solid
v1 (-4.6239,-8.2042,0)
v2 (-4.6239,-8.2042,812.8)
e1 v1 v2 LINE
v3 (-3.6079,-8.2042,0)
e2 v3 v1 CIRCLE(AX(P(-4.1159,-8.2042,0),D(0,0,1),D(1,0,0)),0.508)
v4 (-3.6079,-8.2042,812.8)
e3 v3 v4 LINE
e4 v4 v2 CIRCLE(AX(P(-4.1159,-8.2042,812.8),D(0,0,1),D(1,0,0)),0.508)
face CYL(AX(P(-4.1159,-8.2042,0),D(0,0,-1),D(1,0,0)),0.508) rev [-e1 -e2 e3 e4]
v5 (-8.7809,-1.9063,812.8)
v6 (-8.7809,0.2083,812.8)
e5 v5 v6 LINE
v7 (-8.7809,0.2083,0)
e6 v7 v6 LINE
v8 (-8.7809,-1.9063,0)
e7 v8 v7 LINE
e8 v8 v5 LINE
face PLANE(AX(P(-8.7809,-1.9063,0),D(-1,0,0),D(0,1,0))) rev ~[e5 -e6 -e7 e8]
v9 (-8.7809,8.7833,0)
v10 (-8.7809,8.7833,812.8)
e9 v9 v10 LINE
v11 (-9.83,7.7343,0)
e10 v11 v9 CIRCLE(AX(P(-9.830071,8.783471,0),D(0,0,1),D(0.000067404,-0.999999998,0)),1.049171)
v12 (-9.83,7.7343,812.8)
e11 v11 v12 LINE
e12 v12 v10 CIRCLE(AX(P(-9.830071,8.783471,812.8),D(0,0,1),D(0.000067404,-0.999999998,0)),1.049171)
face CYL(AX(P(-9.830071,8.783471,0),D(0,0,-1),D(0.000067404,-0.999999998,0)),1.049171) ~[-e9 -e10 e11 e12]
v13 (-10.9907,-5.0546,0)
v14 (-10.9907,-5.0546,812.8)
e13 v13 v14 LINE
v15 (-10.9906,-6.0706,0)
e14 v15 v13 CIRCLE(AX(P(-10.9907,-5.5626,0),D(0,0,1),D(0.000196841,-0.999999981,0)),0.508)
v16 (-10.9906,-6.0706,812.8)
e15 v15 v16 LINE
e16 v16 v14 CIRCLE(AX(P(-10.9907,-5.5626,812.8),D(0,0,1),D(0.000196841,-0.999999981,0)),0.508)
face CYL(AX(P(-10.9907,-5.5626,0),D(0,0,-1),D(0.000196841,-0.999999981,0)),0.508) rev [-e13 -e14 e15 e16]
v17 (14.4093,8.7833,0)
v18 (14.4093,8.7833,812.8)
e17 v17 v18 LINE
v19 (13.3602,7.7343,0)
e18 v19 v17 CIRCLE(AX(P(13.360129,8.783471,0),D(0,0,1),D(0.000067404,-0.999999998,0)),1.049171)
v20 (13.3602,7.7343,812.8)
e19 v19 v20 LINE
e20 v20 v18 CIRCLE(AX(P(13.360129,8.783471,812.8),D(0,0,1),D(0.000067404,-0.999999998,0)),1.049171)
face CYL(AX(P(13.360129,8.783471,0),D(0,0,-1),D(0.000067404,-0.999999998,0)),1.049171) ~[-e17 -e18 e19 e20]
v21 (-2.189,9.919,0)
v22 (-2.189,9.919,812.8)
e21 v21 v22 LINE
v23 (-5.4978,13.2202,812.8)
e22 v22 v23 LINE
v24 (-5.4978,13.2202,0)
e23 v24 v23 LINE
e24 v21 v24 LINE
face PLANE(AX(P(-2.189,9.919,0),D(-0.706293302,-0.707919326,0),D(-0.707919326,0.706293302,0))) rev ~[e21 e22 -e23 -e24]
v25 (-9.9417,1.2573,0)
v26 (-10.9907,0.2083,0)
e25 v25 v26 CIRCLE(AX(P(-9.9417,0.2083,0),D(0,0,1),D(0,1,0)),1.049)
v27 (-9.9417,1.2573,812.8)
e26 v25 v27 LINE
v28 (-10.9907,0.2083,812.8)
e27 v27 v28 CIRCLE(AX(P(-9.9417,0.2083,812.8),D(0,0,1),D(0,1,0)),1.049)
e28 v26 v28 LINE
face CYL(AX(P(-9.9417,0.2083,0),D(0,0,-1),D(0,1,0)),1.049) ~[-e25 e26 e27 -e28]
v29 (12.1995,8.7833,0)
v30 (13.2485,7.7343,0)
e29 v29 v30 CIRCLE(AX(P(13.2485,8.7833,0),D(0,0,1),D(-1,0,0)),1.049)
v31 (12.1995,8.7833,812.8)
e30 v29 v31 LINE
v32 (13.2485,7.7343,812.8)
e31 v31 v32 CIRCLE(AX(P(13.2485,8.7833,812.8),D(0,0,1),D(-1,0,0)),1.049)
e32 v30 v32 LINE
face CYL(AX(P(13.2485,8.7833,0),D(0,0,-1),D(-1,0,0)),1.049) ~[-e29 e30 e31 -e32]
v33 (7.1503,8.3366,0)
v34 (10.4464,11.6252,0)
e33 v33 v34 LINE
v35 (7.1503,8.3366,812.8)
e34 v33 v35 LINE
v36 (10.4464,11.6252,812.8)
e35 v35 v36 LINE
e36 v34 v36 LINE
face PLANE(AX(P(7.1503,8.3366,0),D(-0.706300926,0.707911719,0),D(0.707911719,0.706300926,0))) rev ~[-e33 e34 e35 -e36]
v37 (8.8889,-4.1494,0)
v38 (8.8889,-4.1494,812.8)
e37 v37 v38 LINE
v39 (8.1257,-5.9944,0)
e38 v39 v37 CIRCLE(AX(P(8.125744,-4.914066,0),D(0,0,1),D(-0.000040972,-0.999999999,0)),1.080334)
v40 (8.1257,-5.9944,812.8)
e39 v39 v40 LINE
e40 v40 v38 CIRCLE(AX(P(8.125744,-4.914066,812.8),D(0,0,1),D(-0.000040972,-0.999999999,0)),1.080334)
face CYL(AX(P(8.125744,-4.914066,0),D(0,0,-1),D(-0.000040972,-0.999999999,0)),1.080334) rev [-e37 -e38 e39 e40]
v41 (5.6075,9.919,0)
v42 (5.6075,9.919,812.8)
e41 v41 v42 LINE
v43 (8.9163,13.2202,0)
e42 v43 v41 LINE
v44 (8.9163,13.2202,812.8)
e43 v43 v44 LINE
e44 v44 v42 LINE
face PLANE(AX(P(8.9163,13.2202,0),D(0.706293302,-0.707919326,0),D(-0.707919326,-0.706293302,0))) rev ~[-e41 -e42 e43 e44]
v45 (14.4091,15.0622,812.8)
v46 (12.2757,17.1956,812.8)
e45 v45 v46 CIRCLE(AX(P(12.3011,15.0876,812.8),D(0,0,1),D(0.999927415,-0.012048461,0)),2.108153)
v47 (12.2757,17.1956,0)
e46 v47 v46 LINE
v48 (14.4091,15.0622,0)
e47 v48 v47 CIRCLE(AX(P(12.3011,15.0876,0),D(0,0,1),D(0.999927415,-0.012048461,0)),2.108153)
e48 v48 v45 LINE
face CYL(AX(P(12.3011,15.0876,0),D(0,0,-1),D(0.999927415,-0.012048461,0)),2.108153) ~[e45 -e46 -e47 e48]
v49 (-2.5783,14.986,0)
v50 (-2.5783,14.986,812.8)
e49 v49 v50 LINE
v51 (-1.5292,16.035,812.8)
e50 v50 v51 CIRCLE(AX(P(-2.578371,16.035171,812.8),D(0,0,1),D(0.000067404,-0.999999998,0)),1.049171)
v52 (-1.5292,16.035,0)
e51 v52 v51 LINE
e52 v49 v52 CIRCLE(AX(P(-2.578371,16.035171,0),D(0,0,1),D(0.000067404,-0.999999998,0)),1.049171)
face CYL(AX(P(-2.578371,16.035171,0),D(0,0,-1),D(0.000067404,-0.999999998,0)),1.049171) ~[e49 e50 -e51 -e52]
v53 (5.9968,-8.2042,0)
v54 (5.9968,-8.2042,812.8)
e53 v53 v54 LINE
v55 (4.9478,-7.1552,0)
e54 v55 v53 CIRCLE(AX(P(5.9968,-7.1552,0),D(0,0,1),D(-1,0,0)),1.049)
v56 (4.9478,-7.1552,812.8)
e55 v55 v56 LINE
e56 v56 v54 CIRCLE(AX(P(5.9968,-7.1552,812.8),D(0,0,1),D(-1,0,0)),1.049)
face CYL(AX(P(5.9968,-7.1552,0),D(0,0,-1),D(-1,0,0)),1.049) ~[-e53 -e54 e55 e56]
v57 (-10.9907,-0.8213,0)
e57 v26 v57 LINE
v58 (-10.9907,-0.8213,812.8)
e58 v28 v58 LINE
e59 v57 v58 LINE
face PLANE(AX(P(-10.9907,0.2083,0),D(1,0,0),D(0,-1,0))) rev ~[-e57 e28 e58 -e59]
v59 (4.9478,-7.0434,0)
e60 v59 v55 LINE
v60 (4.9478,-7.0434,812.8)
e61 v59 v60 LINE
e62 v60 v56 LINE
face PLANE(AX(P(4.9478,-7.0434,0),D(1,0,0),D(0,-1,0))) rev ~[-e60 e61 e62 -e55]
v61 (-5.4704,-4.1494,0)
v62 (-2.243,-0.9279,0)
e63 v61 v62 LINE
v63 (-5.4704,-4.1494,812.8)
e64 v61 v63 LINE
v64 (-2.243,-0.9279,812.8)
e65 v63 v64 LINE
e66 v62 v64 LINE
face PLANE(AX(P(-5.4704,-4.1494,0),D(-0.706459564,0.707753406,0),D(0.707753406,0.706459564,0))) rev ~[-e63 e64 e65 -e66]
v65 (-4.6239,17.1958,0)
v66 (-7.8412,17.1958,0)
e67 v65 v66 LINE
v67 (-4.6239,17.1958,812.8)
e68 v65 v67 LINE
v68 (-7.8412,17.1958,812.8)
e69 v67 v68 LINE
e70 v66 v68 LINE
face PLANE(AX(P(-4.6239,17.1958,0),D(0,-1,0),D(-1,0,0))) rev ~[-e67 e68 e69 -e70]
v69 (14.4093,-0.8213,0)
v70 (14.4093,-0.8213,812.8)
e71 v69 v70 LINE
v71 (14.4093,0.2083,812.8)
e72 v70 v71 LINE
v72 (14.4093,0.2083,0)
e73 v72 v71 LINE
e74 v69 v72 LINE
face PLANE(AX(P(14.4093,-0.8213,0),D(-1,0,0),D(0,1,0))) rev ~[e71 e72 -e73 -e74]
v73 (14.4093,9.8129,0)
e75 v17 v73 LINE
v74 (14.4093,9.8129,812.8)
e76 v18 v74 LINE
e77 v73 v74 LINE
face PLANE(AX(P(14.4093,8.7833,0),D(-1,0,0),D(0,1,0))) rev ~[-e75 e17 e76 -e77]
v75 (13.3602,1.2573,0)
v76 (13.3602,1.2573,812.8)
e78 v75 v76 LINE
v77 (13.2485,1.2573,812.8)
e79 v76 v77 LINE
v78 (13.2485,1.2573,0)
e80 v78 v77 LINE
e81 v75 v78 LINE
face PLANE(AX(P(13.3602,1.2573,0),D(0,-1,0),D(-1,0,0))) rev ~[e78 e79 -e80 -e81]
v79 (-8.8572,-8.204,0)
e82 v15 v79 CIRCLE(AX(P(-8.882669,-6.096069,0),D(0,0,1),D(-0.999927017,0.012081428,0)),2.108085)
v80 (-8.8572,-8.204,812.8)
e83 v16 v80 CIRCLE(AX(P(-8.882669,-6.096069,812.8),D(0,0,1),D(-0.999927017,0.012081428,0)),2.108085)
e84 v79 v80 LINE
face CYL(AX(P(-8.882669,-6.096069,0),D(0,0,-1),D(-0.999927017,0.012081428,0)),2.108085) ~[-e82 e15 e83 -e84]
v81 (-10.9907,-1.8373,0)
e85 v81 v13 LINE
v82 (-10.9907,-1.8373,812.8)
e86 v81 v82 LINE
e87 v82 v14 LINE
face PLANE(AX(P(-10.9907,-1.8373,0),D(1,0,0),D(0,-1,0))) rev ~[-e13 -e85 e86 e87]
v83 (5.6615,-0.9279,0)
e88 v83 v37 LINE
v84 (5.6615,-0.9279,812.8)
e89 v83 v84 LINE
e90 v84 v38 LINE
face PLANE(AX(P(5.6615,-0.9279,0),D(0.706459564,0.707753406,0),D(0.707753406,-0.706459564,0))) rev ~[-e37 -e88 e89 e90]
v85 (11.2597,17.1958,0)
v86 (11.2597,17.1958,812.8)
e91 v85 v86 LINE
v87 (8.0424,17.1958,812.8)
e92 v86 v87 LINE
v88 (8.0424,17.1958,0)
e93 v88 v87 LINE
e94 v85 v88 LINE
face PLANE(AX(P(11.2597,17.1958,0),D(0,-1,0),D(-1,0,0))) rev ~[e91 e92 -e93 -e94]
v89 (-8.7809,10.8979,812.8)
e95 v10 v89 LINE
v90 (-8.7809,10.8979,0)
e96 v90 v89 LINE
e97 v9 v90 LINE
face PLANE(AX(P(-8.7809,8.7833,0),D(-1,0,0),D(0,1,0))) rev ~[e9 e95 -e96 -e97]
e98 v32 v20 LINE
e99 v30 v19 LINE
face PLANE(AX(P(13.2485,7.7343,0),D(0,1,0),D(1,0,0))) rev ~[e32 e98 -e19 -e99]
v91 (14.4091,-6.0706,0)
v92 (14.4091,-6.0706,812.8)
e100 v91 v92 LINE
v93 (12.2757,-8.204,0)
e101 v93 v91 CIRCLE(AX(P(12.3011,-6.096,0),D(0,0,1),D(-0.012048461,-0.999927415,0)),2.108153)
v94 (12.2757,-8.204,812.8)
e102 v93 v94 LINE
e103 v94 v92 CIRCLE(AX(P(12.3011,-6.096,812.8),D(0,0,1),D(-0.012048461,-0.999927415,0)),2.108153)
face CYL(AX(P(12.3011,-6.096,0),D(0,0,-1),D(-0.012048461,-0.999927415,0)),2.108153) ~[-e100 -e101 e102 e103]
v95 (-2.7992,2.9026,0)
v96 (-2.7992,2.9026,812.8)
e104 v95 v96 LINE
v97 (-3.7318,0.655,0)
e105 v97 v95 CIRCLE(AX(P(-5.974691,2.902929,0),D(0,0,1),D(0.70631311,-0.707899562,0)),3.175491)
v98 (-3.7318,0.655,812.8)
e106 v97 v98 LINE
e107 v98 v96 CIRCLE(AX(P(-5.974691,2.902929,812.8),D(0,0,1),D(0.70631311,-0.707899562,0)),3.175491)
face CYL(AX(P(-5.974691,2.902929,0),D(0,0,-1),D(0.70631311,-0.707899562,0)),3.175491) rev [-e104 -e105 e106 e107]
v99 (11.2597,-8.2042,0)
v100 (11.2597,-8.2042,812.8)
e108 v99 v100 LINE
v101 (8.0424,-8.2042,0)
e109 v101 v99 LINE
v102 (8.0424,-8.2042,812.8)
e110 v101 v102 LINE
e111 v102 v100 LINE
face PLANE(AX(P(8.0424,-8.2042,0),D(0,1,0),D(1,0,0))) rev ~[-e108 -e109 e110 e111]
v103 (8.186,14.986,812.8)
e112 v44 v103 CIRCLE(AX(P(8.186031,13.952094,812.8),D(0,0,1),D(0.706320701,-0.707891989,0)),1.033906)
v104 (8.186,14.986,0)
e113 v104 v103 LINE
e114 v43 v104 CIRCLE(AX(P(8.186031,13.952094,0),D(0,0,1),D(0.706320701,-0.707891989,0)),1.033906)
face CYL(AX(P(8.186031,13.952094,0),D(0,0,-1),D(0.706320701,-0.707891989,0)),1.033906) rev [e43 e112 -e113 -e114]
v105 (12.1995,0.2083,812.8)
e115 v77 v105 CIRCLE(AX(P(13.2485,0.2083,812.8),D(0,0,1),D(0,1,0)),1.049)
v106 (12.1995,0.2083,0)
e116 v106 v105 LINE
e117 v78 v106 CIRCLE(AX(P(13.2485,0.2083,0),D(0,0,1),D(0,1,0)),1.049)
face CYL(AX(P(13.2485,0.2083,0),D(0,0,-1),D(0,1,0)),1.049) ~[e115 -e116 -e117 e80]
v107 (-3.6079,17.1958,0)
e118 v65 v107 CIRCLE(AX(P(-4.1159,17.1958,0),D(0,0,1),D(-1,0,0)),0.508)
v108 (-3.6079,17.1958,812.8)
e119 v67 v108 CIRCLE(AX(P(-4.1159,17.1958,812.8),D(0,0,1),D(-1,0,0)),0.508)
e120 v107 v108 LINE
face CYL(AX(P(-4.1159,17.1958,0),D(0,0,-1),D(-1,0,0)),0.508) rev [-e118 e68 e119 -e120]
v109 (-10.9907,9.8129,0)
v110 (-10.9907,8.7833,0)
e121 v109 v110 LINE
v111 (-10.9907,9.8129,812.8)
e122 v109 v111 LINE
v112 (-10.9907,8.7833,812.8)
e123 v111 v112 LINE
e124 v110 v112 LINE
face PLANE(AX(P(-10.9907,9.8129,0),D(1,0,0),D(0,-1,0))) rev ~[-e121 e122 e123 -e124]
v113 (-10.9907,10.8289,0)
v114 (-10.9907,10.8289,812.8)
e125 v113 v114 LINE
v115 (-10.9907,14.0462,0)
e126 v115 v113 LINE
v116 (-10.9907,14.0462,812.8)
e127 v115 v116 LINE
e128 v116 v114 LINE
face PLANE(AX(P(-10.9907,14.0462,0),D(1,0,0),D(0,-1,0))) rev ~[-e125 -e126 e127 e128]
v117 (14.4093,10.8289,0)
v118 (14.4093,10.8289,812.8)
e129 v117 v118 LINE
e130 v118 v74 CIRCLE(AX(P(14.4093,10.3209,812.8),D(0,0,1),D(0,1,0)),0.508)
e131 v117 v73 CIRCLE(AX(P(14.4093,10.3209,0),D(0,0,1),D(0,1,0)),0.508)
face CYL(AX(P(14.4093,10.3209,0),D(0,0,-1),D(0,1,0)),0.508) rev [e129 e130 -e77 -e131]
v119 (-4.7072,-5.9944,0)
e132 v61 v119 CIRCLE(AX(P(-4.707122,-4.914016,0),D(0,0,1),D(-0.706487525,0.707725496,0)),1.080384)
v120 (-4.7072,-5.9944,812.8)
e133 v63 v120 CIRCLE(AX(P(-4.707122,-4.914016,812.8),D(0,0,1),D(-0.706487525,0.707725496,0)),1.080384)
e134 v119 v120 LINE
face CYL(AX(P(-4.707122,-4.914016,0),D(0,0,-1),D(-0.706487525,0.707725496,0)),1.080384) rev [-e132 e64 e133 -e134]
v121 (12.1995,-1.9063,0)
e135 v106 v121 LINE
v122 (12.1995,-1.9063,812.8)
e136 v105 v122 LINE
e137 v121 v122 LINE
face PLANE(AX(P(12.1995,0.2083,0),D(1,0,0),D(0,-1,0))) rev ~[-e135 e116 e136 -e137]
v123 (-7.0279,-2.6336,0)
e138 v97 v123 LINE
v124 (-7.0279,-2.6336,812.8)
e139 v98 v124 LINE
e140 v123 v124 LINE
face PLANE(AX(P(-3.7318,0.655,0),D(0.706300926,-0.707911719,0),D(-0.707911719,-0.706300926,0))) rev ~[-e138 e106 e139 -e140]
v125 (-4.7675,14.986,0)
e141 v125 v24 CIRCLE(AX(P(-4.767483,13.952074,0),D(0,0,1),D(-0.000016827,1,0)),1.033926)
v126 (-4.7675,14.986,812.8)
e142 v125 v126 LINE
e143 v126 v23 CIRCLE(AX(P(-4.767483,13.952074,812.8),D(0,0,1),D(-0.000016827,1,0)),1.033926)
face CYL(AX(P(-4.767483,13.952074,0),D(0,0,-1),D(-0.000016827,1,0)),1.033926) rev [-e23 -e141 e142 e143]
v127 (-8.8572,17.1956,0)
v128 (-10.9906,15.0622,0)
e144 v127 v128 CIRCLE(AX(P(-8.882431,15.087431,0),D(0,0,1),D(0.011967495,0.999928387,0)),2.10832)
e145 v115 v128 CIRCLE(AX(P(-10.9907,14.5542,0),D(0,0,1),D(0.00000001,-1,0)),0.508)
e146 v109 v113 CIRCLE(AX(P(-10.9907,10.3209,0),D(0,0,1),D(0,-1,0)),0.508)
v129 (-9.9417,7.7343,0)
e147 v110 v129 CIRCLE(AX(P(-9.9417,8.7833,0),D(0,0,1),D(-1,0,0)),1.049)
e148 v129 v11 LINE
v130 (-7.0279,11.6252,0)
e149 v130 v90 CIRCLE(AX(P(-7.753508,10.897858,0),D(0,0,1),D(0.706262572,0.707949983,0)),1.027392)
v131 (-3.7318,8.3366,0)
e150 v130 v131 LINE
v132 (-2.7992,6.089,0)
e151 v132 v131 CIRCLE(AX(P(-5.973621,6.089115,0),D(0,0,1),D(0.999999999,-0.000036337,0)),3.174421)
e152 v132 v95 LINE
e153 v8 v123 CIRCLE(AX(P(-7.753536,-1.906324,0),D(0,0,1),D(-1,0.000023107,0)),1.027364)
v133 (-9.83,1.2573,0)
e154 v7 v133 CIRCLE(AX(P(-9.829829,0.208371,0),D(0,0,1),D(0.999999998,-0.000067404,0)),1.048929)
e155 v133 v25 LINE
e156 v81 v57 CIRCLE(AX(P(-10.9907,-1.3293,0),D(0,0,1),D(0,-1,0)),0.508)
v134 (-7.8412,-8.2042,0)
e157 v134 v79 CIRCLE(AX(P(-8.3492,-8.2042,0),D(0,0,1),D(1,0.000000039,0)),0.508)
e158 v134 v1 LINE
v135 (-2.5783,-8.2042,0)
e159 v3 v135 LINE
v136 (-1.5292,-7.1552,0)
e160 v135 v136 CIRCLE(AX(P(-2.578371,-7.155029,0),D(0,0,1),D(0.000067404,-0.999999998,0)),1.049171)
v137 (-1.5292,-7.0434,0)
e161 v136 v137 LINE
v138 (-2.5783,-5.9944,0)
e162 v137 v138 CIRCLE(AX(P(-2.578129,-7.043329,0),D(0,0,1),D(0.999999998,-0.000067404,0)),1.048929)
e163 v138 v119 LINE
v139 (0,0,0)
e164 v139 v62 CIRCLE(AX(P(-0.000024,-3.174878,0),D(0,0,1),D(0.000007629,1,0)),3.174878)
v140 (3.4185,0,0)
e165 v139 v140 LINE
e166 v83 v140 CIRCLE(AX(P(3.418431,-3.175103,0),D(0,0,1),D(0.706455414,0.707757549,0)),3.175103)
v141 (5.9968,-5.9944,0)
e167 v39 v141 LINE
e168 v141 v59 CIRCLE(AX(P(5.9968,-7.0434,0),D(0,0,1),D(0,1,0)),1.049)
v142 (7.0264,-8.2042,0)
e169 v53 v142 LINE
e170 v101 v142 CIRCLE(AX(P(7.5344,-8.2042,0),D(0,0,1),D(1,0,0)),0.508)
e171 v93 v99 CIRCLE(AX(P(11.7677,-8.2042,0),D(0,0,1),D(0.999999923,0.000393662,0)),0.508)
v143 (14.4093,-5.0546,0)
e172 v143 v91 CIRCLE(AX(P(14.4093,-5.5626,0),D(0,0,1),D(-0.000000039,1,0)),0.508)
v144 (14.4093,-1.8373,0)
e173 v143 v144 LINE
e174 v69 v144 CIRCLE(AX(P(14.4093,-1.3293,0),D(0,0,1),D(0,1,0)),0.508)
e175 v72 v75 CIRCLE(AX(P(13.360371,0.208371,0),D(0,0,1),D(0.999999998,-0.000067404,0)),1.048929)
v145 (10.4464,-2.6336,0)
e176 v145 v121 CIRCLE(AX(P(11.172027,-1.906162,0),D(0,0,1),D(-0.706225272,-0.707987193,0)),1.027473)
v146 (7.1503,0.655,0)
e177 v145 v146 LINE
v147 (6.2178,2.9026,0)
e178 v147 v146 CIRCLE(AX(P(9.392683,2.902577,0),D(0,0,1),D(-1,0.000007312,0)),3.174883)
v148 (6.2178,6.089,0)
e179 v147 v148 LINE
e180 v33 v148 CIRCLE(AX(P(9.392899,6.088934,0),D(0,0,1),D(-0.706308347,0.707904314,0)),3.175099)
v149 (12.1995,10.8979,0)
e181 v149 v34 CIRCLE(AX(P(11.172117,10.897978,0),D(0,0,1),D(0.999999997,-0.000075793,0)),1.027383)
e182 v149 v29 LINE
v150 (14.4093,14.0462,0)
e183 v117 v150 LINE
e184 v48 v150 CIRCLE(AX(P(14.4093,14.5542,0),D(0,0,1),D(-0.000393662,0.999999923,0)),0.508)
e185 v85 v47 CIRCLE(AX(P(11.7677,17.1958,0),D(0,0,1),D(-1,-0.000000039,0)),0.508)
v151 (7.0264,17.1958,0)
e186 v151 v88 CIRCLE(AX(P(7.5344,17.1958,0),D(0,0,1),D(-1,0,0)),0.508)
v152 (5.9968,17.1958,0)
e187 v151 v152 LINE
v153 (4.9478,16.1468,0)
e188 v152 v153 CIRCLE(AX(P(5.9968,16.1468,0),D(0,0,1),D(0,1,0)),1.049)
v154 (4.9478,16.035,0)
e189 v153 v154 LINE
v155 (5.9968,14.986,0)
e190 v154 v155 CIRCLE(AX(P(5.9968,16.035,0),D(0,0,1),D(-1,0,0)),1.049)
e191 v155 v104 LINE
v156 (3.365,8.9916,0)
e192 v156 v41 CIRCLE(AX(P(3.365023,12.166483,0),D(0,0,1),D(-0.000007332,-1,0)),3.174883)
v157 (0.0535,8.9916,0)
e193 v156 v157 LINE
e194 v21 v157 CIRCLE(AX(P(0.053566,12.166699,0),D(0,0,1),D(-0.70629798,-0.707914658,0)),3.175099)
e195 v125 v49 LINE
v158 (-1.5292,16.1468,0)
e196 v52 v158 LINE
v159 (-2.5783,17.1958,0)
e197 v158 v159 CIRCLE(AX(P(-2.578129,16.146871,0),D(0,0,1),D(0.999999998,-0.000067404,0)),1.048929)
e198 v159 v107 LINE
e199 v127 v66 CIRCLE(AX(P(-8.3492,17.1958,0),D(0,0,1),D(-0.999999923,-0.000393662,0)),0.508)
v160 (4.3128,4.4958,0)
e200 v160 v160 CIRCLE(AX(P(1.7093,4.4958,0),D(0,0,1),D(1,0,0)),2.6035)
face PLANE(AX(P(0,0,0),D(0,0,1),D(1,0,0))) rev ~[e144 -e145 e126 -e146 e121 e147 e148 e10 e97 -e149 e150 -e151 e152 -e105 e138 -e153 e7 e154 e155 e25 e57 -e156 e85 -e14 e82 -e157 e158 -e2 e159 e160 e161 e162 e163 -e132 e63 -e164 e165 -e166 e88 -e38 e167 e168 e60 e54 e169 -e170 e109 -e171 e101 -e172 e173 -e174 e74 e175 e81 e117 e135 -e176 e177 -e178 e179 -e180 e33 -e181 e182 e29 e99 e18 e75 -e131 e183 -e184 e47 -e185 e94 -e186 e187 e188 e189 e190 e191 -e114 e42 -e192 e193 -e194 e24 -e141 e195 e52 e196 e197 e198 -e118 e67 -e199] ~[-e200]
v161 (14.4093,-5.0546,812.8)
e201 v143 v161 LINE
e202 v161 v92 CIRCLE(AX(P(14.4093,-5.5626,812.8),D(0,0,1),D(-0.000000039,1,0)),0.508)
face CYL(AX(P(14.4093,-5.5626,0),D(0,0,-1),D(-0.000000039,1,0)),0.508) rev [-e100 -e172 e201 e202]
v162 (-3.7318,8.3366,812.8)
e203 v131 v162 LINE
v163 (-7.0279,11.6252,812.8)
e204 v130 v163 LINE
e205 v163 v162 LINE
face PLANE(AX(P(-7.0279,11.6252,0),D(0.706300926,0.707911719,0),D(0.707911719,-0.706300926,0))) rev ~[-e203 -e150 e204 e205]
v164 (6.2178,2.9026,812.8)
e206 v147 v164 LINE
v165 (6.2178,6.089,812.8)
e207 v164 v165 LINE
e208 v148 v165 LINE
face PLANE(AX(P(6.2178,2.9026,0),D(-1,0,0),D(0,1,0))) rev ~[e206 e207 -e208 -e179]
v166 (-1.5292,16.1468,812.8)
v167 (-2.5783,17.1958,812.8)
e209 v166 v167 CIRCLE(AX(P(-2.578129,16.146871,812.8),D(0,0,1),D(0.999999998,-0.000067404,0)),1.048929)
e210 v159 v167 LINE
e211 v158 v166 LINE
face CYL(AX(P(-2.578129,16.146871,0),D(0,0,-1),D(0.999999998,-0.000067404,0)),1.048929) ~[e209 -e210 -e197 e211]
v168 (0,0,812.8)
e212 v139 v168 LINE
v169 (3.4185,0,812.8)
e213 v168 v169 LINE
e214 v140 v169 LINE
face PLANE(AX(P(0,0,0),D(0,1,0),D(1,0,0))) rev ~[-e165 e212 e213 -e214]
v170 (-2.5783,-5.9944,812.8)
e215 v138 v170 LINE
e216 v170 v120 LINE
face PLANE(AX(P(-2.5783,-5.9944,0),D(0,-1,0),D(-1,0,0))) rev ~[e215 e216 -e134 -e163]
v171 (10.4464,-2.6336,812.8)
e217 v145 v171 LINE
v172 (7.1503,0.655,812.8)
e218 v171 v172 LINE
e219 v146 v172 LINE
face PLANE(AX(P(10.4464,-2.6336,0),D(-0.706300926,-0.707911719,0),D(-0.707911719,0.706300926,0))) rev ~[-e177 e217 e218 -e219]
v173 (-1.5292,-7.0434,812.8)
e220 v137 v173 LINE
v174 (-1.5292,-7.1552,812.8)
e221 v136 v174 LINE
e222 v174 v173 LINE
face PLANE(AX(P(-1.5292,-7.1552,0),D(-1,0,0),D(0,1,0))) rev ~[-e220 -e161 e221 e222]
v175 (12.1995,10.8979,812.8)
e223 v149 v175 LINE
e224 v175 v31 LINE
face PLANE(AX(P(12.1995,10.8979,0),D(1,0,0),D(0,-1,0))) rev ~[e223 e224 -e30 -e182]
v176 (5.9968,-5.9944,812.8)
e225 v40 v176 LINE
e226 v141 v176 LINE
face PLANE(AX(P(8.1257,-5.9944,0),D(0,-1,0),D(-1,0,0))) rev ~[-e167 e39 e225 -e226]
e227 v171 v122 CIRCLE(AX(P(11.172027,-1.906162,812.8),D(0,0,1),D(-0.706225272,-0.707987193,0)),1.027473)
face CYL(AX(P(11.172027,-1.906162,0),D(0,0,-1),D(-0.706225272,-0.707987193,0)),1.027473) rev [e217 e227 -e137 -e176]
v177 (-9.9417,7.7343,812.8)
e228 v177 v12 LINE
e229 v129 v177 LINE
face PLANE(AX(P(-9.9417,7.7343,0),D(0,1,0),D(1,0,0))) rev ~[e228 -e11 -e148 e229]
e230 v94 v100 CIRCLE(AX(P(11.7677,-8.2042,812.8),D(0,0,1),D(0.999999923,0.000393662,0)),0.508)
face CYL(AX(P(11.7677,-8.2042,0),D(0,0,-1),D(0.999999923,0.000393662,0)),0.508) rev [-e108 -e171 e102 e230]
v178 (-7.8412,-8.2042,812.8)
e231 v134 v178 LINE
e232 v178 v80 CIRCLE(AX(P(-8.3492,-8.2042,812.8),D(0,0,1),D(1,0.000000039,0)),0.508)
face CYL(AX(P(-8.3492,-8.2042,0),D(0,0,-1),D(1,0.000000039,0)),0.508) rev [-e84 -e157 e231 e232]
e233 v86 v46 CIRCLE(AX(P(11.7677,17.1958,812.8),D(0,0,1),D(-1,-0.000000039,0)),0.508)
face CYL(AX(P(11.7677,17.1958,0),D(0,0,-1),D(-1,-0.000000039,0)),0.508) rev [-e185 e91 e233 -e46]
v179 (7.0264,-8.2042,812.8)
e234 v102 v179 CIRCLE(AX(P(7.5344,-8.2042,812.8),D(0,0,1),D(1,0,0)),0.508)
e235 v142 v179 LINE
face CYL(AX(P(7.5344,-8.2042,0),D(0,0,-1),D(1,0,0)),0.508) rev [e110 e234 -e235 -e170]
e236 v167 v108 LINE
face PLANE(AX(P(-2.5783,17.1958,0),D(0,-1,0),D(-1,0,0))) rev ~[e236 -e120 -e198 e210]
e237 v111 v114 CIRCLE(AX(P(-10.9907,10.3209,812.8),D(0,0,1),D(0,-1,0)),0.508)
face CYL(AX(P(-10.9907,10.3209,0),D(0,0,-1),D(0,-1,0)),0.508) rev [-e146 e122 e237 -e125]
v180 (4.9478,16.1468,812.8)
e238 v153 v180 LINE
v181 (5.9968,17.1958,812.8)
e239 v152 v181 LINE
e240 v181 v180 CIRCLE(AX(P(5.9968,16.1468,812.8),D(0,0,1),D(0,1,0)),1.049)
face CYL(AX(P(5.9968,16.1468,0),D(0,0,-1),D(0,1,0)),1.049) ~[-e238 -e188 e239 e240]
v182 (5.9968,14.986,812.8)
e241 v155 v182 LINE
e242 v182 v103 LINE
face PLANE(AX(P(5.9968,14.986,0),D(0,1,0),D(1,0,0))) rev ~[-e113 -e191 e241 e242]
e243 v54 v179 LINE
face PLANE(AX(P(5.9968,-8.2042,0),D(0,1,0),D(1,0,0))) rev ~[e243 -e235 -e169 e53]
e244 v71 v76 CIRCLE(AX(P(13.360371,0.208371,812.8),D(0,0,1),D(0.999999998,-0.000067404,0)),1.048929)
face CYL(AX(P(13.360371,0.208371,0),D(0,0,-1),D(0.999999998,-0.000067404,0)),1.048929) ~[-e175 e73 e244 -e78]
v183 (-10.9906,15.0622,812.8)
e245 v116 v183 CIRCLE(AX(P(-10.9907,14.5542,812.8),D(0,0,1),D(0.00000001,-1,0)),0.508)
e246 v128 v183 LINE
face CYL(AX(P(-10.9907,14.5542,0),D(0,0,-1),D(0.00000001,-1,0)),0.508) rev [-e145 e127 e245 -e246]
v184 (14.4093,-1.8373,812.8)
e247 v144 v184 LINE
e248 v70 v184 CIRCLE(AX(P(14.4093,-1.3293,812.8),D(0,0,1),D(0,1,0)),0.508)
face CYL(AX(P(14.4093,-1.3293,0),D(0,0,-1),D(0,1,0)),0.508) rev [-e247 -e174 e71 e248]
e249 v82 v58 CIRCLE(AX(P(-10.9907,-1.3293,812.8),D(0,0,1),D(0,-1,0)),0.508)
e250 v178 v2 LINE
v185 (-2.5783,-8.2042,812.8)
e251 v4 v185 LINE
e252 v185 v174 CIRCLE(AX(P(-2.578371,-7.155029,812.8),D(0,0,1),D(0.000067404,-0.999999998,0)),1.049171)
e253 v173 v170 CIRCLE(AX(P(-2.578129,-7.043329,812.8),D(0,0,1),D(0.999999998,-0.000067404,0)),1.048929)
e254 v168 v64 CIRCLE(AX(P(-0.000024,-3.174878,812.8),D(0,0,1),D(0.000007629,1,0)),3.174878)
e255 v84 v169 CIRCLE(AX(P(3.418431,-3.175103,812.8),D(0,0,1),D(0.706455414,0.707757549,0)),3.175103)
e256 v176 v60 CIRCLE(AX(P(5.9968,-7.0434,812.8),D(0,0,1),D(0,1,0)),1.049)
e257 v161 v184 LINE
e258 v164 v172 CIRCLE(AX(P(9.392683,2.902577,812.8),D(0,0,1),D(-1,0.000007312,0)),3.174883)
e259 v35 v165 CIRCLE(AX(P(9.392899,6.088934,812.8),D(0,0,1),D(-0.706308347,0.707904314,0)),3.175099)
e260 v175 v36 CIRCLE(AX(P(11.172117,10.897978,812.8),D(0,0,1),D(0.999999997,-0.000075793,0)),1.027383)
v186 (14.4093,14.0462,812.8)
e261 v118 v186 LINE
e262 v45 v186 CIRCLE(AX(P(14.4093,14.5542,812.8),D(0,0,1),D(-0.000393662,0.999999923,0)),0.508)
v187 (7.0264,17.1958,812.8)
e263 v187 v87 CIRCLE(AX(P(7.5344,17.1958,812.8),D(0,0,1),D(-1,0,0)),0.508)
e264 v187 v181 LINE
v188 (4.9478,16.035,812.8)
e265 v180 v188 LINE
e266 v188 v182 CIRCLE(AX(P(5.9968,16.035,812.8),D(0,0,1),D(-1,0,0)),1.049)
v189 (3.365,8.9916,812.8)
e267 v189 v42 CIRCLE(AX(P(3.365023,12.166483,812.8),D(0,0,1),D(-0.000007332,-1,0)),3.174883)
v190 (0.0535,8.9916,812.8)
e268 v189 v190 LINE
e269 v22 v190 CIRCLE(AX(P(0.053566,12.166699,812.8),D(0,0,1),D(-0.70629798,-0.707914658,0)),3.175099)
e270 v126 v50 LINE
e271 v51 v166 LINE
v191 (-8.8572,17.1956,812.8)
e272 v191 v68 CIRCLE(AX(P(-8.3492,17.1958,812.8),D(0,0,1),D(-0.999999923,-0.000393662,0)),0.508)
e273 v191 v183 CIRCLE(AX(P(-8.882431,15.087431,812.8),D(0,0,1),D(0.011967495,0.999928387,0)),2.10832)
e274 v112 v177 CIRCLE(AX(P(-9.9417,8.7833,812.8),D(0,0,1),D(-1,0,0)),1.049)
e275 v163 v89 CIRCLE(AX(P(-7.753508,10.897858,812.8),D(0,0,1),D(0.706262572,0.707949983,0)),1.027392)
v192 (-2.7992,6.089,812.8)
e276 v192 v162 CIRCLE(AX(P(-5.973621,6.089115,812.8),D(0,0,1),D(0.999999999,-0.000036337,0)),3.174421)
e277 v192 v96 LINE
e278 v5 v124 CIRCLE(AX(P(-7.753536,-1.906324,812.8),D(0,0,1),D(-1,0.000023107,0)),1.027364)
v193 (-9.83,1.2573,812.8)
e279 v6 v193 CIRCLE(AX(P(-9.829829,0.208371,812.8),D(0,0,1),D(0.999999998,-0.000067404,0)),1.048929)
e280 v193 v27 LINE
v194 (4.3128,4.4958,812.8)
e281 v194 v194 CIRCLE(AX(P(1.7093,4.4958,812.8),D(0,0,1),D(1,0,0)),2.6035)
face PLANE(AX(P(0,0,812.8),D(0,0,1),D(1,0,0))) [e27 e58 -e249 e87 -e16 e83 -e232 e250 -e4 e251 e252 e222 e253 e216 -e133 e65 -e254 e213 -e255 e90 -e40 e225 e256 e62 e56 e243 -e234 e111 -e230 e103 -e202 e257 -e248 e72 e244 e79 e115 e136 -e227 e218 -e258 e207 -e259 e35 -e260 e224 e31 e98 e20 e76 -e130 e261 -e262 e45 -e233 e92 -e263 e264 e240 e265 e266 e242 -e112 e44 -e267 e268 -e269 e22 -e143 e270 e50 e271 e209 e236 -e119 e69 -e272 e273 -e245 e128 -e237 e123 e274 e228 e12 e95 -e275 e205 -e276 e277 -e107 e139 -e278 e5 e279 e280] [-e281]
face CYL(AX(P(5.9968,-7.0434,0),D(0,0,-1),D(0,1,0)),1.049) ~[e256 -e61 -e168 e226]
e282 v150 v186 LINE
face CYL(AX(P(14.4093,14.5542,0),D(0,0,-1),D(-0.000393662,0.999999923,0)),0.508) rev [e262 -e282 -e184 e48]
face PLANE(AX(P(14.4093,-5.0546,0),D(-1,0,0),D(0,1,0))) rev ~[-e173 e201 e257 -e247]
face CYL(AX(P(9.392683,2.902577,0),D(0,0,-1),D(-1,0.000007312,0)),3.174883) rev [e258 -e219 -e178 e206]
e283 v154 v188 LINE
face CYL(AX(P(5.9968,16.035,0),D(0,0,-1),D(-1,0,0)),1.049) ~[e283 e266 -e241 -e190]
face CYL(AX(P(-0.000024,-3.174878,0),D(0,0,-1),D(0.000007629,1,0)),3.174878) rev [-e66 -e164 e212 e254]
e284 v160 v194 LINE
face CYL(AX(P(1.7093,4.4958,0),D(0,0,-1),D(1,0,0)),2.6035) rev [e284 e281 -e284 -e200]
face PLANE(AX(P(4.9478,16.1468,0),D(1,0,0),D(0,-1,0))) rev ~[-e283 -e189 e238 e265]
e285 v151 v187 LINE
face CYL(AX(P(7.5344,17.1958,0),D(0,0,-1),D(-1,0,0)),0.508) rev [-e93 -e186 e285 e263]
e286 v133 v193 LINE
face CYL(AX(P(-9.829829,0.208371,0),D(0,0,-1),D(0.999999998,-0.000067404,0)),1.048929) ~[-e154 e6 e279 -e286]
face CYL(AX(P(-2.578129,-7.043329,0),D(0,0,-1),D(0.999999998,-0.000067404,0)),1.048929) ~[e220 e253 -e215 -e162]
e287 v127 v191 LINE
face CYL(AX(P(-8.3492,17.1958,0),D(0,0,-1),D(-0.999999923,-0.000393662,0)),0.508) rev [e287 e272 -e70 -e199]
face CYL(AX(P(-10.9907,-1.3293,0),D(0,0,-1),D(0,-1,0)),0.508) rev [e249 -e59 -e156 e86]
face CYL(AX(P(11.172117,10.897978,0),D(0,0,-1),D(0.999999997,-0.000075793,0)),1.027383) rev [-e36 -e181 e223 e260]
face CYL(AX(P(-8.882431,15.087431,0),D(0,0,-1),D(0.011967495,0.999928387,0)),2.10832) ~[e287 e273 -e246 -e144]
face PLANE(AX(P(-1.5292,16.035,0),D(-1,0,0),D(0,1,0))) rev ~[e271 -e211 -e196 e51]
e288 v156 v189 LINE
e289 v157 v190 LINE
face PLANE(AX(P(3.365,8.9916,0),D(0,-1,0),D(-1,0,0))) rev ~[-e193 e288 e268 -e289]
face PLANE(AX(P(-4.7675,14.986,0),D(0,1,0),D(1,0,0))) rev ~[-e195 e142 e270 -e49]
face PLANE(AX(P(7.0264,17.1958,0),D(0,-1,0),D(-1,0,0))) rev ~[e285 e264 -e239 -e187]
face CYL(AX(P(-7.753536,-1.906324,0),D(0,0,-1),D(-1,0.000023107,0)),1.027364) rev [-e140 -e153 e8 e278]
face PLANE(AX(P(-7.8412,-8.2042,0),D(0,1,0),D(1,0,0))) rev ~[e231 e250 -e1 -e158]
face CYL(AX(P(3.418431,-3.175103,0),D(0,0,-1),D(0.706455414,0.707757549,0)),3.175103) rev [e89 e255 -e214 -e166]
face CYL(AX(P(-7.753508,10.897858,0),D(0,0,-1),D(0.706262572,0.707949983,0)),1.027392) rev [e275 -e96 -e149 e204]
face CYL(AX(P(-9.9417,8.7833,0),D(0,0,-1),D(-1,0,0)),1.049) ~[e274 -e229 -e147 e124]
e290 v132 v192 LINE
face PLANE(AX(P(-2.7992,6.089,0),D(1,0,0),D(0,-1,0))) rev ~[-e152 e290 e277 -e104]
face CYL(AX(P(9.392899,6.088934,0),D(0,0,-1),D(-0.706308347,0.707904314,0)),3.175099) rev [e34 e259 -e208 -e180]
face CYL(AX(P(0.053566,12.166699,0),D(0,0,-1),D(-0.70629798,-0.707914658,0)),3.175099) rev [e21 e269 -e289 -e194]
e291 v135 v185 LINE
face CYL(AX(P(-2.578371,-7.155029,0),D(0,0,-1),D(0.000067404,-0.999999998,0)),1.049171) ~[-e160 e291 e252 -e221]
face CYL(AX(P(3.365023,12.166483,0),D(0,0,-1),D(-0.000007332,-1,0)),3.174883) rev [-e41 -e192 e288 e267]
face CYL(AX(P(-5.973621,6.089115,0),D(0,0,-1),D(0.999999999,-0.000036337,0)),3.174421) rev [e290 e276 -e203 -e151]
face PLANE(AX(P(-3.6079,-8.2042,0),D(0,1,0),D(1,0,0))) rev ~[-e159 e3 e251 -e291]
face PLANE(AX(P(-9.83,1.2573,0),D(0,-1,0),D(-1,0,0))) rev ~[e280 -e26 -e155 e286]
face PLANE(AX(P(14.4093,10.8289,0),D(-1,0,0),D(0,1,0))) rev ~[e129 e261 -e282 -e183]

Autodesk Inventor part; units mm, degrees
ref_plane "YZ Plane" through (0, 0, 0) normal (1, 0, 0) x (0, 1, 0)
ref_plane "XZ Plane" through (0, 0, 0) normal (0, 1, 0) x (-1, 0, 0)
ref_plane "XY Plane" through (0, 0, 0) normal (0, 0, 1) x (1, 0, 0)
sketch "Sketch1" plane through (0, 0, 0) normal (0, 0, 1) x (1, 0, 0)
  arc A0 (-5.4704, -4.1494) -> (-4.7072, -5.9944) centre (-4.7072, -4.914) ccw
  line L0 (-5.4704, -4.1494) -> (-2.243, -0.9279)
  arc A1 (0, 0) -> (-2.243, -0.9279) centre (0, -3.175) ccw
  line L1 (0, 0) -> (3.4185, 0)
  arc A2 (5.6615, -0.9279) -> (3.4185, 0) centre (3.4185, -3.175) ccw
  line L2 (5.6615, -0.9279) -> (8.8889, -4.1494)
  arc A3 (8.1257, -5.9944) -> (8.8889, -4.1494) centre (8.1257, -4.914) ccw
  line L3 (8.1257, -5.9944) -> (5.9968, -5.9944)
  arc A4 (5.9968, -5.9944) -> (4.9478, -7.0434) centre (5.9968, -7.0434) ccw
  line L4 (4.9478, -7.0434) -> (4.9478, -7.1552)
  arc A5 (4.9478, -7.1552) -> (5.9968, -8.2042) centre (5.9968, -7.1552) ccw
  line L5 (5.9968, -8.2042) -> (7.0264, -8.2042)
  arc A6 (8.0424, -8.2042) -> (7.0264, -8.2042) centre (7.5344, -8.2042) ccw
  line L6 (8.0424, -8.2042) -> (11.2597, -8.2042)
  arc A7 (12.2757, -8.204) -> (11.2597, -8.2042) centre (11.7677, -8.2042) ccw
  arc A8 (12.2757, -8.204) -> (14.4091, -6.0706) centre (12.3011, -6.096) ccw
  arc A9 (14.4093, -5.0546) -> (14.4091, -6.0706) centre (14.4093, -5.5626) ccw
  line L7 (14.4093, -5.0546) -> (14.4093, -1.8373)
  arc A10 (14.4093, -0.8213) -> (14.4093, -1.8373) centre (14.4093, -1.3293) ccw
  line L8 (14.4093, -0.8213) -> (14.4093, 0.2083)
  arc A11 (14.4093, 0.2083) -> (13.3602, 1.2573) centre (13.3602, 0.2083) ccw
  line L9 (13.3602, 1.2573) -> (13.2485, 1.2573)
  arc A12 (13.2485, 1.2573) -> (12.1995, 0.2083) centre (13.2485, 0.2083) ccw
  line L10 (12.1995, 0.2083) -> (12.1995, -1.9063)
  arc A13 (10.4464, -2.6336) -> (12.1995, -1.9063) centre (11.172, -1.9063) ccw
  line L11 (10.4464, -2.6336) -> (7.1503, 0.655)
  arc A14 (6.2178, 2.9026) -> (7.1503, 0.655) centre (9.3928, 2.9026) ccw
  line L12 (6.2178, 2.9026) -> (6.2178, 6.089)
  arc A15 (7.1503, 8.3366) -> (6.2178, 6.089) centre (9.3928, 6.089) ccw
  line L13 (7.1503, 8.3366) -> (10.4464, 11.6252)
  arc A16 (12.1995, 10.8979) -> (10.4464, 11.6252) centre (11.172, 10.8979) ccw
  line L14 (12.1995, 10.8979) -> (12.1995, 8.7833)
  arc A17 (12.1995, 8.7833) -> (13.2485, 7.7343) centre (13.2485, 8.7833) ccw
  line L15 (13.2485, 7.7343) -> (13.3602, 7.7343)
  arc A18 (13.3602, 7.7343) -> (14.4093, 8.7833) centre (13.3602, 8.7833) ccw
  line L16 (14.4093, 8.7833) -> (14.4093, 9.8129)
  arc A19 (14.4093, 10.8289) -> (14.4093, 9.8129) centre (14.4093, 10.3209) ccw
  line L17 (14.4093, 10.8289) -> (14.4093, 14.0462)
  arc A20 (14.4091, 15.0622) -> (14.4093, 14.0462) centre (14.4093, 14.5542) ccw
  arc A21 (14.4091, 15.0622) -> (12.2757, 17.1956) centre (12.3011, 15.0876) ccw
  arc A22 (11.2597, 17.1958) -> (12.2757, 17.1956) centre (11.7677, 17.1958) ccw
  line L18 (11.2597, 17.1958) -> (8.0424, 17.1958)
  arc A23 (7.0264, 17.1958) -> (8.0424, 17.1958) centre (7.5344, 17.1958) ccw
  line L19 (7.0264, 17.1958) -> (5.9968, 17.1958)
  arc A24 (5.9968, 17.1958) -> (4.9478, 16.1468) centre (5.9968, 16.1468) ccw
  line L20 (4.9478, 16.1468) -> (4.9478, 16.035)
  arc A25 (4.9478, 16.035) -> (5.9968, 14.986) centre (5.9968, 16.035) ccw
  line L21 (5.9968, 14.986) -> (8.186, 14.986)
  arc A26 (8.9163, 13.2202) -> (8.186, 14.986) centre (8.186, 13.9521) ccw
  line L22 (8.9163, 13.2202) -> (5.6075, 9.919)
  arc A27 (3.365, 8.9916) -> (5.6075, 9.919) centre (3.365, 12.1666) ccw
  line L23 (3.365, 8.9916) -> (0.0535, 8.9916)
  arc A28 (-2.189, 9.919) -> (0.0535, 8.9916) centre (0.0535, 12.1666) ccw
  line L24 (-2.189, 9.919) -> (-5.4978, 13.2202)
  arc A29 (-4.7675, 14.986) -> (-5.4978, 13.2202) centre (-4.7675, 13.9521) ccw
  line L25 (-4.7675, 14.986) -> (-2.5783, 14.986)
  arc A30 (-2.5783, 14.986) -> (-1.5292, 16.035) centre (-2.5783, 16.035) ccw
  line L26 (-1.5292, 16.035) -> (-1.5292, 16.1468)
  arc A31 (-1.5292, 16.1468) -> (-2.5783, 17.1958) centre (-2.5783, 16.1468) ccw
  line L27 (-2.5783, 17.1958) -> (-3.6079, 17.1958)
  arc A32 (-4.6239, 17.1958) -> (-3.6079, 17.1958) centre (-4.1159, 17.1958) ccw
  line L28 (-4.6239, 17.1958) -> (-7.8412, 17.1958)
  arc A33 (-8.8572, 17.1956) -> (-7.8412, 17.1958) centre (-8.3492, 17.1958) ccw
  arc A34 (-8.8572, 17.1956) -> (-10.9906, 15.0622) centre (-8.8825, 15.0876) ccw
  arc A35 (-10.9907, 14.0462) -> (-10.9906, 15.0622) centre (-10.9907, 14.5542) ccw
  line L29 (-10.9907, 14.0462) -> (-10.9907, 10.8289)
  arc A36 (-10.9907, 9.8129) -> (-10.9907, 10.8289) centre (-10.9907, 10.3209) ccw
  line L30 (-10.9907, 9.8129) -> (-10.9907, 8.7833)
  arc A37 (-10.9907, 8.7833) -> (-9.9417, 7.7343) centre (-9.9417, 8.7833) ccw
  line L31 (-9.9417, 7.7343) -> (-9.83, 7.7343)
  arc A38 (-9.83, 7.7343) -> (-8.7809, 8.7833) centre (-9.83, 8.7833) ccw
  line L32 (-8.7809, 8.7833) -> (-8.7809, 10.8979)
  arc A39 (-7.0279, 11.6252) -> (-8.7809, 10.8979) centre (-7.7535, 10.8979) ccw
  line L33 (-7.0279, 11.6252) -> (-3.7318, 8.3366)
  arc A40 (-2.7992, 6.089) -> (-3.7318, 8.3366) centre (-5.9742, 6.089) ccw
  line L34 (-2.7992, 6.089) -> (-2.7992, 2.9026)
  arc A41 (-3.7318, 0.655) -> (-2.7992, 2.9026) centre (-5.9742, 2.9026) ccw
  line L35 (-3.7318, 0.655) -> (-7.0279, -2.6336)
  arc A42 (-8.7809, -1.9063) -> (-7.0279, -2.6336) centre (-7.7535, -1.9063) ccw
  line L36 (-8.7809, -1.9063) -> (-8.7809, 0.2083)
  arc A43 (-8.7809, 0.2083) -> (-9.83, 1.2573) centre (-9.83, 0.2083) ccw
  line L37 (-9.83, 1.2573) -> (-9.9417, 1.2573)
  arc A44 (-9.9417, 1.2573) -> (-10.9907, 0.2083) centre (-9.9417, 0.2083) ccw
  line L38 (-10.9907, 0.2083) -> (-10.9907, -0.8213)
  arc A45 (-10.9907, -1.8373) -> (-10.9907, -0.8213) centre (-10.9907, -1.3293) ccw
  line L39 (-10.9907, -1.8373) -> (-10.9907, -5.0546)
  arc A46 (-10.9906, -6.0706) -> (-10.9907, -5.0546) centre (-10.9907, -5.5626) ccw
  arc A47 (-10.9906, -6.0706) -> (-8.8572, -8.204) centre (-8.8825, -6.096) ccw
  arc A48 (-7.8412, -8.2042) -> (-8.8572, -8.204) centre (-8.3492, -8.2042) ccw
  line L40 (-7.8412, -8.2042) -> (-4.6239, -8.2042)
  arc A49 (-3.6079, -8.2042) -> (-4.6239, -8.2042) centre (-4.1159, -8.2042) ccw
  line L41 (-3.6079, -8.2042) -> (-2.5783, -8.2042)
  arc A50 (-2.5783, -8.2042) -> (-1.5292, -7.1552) centre (-2.5783, -7.1552) ccw
  line L42 (-1.5292, -7.1552) -> (-1.5292, -7.0434)
  arc A51 (-1.5292, -7.0434) -> (-2.5783, -5.9944) centre (-2.5783, -7.0434) ccw
  line L43 (-2.5783, -5.9944) -> (-4.7072, -5.9944)
  circle A52 centre (1.7093, 4.4958) radius 2.6035
extrude "Extrusion1" add sketch "Sketch1" along normal blind 812.8
properties part number "32in 1x1 T slot"
